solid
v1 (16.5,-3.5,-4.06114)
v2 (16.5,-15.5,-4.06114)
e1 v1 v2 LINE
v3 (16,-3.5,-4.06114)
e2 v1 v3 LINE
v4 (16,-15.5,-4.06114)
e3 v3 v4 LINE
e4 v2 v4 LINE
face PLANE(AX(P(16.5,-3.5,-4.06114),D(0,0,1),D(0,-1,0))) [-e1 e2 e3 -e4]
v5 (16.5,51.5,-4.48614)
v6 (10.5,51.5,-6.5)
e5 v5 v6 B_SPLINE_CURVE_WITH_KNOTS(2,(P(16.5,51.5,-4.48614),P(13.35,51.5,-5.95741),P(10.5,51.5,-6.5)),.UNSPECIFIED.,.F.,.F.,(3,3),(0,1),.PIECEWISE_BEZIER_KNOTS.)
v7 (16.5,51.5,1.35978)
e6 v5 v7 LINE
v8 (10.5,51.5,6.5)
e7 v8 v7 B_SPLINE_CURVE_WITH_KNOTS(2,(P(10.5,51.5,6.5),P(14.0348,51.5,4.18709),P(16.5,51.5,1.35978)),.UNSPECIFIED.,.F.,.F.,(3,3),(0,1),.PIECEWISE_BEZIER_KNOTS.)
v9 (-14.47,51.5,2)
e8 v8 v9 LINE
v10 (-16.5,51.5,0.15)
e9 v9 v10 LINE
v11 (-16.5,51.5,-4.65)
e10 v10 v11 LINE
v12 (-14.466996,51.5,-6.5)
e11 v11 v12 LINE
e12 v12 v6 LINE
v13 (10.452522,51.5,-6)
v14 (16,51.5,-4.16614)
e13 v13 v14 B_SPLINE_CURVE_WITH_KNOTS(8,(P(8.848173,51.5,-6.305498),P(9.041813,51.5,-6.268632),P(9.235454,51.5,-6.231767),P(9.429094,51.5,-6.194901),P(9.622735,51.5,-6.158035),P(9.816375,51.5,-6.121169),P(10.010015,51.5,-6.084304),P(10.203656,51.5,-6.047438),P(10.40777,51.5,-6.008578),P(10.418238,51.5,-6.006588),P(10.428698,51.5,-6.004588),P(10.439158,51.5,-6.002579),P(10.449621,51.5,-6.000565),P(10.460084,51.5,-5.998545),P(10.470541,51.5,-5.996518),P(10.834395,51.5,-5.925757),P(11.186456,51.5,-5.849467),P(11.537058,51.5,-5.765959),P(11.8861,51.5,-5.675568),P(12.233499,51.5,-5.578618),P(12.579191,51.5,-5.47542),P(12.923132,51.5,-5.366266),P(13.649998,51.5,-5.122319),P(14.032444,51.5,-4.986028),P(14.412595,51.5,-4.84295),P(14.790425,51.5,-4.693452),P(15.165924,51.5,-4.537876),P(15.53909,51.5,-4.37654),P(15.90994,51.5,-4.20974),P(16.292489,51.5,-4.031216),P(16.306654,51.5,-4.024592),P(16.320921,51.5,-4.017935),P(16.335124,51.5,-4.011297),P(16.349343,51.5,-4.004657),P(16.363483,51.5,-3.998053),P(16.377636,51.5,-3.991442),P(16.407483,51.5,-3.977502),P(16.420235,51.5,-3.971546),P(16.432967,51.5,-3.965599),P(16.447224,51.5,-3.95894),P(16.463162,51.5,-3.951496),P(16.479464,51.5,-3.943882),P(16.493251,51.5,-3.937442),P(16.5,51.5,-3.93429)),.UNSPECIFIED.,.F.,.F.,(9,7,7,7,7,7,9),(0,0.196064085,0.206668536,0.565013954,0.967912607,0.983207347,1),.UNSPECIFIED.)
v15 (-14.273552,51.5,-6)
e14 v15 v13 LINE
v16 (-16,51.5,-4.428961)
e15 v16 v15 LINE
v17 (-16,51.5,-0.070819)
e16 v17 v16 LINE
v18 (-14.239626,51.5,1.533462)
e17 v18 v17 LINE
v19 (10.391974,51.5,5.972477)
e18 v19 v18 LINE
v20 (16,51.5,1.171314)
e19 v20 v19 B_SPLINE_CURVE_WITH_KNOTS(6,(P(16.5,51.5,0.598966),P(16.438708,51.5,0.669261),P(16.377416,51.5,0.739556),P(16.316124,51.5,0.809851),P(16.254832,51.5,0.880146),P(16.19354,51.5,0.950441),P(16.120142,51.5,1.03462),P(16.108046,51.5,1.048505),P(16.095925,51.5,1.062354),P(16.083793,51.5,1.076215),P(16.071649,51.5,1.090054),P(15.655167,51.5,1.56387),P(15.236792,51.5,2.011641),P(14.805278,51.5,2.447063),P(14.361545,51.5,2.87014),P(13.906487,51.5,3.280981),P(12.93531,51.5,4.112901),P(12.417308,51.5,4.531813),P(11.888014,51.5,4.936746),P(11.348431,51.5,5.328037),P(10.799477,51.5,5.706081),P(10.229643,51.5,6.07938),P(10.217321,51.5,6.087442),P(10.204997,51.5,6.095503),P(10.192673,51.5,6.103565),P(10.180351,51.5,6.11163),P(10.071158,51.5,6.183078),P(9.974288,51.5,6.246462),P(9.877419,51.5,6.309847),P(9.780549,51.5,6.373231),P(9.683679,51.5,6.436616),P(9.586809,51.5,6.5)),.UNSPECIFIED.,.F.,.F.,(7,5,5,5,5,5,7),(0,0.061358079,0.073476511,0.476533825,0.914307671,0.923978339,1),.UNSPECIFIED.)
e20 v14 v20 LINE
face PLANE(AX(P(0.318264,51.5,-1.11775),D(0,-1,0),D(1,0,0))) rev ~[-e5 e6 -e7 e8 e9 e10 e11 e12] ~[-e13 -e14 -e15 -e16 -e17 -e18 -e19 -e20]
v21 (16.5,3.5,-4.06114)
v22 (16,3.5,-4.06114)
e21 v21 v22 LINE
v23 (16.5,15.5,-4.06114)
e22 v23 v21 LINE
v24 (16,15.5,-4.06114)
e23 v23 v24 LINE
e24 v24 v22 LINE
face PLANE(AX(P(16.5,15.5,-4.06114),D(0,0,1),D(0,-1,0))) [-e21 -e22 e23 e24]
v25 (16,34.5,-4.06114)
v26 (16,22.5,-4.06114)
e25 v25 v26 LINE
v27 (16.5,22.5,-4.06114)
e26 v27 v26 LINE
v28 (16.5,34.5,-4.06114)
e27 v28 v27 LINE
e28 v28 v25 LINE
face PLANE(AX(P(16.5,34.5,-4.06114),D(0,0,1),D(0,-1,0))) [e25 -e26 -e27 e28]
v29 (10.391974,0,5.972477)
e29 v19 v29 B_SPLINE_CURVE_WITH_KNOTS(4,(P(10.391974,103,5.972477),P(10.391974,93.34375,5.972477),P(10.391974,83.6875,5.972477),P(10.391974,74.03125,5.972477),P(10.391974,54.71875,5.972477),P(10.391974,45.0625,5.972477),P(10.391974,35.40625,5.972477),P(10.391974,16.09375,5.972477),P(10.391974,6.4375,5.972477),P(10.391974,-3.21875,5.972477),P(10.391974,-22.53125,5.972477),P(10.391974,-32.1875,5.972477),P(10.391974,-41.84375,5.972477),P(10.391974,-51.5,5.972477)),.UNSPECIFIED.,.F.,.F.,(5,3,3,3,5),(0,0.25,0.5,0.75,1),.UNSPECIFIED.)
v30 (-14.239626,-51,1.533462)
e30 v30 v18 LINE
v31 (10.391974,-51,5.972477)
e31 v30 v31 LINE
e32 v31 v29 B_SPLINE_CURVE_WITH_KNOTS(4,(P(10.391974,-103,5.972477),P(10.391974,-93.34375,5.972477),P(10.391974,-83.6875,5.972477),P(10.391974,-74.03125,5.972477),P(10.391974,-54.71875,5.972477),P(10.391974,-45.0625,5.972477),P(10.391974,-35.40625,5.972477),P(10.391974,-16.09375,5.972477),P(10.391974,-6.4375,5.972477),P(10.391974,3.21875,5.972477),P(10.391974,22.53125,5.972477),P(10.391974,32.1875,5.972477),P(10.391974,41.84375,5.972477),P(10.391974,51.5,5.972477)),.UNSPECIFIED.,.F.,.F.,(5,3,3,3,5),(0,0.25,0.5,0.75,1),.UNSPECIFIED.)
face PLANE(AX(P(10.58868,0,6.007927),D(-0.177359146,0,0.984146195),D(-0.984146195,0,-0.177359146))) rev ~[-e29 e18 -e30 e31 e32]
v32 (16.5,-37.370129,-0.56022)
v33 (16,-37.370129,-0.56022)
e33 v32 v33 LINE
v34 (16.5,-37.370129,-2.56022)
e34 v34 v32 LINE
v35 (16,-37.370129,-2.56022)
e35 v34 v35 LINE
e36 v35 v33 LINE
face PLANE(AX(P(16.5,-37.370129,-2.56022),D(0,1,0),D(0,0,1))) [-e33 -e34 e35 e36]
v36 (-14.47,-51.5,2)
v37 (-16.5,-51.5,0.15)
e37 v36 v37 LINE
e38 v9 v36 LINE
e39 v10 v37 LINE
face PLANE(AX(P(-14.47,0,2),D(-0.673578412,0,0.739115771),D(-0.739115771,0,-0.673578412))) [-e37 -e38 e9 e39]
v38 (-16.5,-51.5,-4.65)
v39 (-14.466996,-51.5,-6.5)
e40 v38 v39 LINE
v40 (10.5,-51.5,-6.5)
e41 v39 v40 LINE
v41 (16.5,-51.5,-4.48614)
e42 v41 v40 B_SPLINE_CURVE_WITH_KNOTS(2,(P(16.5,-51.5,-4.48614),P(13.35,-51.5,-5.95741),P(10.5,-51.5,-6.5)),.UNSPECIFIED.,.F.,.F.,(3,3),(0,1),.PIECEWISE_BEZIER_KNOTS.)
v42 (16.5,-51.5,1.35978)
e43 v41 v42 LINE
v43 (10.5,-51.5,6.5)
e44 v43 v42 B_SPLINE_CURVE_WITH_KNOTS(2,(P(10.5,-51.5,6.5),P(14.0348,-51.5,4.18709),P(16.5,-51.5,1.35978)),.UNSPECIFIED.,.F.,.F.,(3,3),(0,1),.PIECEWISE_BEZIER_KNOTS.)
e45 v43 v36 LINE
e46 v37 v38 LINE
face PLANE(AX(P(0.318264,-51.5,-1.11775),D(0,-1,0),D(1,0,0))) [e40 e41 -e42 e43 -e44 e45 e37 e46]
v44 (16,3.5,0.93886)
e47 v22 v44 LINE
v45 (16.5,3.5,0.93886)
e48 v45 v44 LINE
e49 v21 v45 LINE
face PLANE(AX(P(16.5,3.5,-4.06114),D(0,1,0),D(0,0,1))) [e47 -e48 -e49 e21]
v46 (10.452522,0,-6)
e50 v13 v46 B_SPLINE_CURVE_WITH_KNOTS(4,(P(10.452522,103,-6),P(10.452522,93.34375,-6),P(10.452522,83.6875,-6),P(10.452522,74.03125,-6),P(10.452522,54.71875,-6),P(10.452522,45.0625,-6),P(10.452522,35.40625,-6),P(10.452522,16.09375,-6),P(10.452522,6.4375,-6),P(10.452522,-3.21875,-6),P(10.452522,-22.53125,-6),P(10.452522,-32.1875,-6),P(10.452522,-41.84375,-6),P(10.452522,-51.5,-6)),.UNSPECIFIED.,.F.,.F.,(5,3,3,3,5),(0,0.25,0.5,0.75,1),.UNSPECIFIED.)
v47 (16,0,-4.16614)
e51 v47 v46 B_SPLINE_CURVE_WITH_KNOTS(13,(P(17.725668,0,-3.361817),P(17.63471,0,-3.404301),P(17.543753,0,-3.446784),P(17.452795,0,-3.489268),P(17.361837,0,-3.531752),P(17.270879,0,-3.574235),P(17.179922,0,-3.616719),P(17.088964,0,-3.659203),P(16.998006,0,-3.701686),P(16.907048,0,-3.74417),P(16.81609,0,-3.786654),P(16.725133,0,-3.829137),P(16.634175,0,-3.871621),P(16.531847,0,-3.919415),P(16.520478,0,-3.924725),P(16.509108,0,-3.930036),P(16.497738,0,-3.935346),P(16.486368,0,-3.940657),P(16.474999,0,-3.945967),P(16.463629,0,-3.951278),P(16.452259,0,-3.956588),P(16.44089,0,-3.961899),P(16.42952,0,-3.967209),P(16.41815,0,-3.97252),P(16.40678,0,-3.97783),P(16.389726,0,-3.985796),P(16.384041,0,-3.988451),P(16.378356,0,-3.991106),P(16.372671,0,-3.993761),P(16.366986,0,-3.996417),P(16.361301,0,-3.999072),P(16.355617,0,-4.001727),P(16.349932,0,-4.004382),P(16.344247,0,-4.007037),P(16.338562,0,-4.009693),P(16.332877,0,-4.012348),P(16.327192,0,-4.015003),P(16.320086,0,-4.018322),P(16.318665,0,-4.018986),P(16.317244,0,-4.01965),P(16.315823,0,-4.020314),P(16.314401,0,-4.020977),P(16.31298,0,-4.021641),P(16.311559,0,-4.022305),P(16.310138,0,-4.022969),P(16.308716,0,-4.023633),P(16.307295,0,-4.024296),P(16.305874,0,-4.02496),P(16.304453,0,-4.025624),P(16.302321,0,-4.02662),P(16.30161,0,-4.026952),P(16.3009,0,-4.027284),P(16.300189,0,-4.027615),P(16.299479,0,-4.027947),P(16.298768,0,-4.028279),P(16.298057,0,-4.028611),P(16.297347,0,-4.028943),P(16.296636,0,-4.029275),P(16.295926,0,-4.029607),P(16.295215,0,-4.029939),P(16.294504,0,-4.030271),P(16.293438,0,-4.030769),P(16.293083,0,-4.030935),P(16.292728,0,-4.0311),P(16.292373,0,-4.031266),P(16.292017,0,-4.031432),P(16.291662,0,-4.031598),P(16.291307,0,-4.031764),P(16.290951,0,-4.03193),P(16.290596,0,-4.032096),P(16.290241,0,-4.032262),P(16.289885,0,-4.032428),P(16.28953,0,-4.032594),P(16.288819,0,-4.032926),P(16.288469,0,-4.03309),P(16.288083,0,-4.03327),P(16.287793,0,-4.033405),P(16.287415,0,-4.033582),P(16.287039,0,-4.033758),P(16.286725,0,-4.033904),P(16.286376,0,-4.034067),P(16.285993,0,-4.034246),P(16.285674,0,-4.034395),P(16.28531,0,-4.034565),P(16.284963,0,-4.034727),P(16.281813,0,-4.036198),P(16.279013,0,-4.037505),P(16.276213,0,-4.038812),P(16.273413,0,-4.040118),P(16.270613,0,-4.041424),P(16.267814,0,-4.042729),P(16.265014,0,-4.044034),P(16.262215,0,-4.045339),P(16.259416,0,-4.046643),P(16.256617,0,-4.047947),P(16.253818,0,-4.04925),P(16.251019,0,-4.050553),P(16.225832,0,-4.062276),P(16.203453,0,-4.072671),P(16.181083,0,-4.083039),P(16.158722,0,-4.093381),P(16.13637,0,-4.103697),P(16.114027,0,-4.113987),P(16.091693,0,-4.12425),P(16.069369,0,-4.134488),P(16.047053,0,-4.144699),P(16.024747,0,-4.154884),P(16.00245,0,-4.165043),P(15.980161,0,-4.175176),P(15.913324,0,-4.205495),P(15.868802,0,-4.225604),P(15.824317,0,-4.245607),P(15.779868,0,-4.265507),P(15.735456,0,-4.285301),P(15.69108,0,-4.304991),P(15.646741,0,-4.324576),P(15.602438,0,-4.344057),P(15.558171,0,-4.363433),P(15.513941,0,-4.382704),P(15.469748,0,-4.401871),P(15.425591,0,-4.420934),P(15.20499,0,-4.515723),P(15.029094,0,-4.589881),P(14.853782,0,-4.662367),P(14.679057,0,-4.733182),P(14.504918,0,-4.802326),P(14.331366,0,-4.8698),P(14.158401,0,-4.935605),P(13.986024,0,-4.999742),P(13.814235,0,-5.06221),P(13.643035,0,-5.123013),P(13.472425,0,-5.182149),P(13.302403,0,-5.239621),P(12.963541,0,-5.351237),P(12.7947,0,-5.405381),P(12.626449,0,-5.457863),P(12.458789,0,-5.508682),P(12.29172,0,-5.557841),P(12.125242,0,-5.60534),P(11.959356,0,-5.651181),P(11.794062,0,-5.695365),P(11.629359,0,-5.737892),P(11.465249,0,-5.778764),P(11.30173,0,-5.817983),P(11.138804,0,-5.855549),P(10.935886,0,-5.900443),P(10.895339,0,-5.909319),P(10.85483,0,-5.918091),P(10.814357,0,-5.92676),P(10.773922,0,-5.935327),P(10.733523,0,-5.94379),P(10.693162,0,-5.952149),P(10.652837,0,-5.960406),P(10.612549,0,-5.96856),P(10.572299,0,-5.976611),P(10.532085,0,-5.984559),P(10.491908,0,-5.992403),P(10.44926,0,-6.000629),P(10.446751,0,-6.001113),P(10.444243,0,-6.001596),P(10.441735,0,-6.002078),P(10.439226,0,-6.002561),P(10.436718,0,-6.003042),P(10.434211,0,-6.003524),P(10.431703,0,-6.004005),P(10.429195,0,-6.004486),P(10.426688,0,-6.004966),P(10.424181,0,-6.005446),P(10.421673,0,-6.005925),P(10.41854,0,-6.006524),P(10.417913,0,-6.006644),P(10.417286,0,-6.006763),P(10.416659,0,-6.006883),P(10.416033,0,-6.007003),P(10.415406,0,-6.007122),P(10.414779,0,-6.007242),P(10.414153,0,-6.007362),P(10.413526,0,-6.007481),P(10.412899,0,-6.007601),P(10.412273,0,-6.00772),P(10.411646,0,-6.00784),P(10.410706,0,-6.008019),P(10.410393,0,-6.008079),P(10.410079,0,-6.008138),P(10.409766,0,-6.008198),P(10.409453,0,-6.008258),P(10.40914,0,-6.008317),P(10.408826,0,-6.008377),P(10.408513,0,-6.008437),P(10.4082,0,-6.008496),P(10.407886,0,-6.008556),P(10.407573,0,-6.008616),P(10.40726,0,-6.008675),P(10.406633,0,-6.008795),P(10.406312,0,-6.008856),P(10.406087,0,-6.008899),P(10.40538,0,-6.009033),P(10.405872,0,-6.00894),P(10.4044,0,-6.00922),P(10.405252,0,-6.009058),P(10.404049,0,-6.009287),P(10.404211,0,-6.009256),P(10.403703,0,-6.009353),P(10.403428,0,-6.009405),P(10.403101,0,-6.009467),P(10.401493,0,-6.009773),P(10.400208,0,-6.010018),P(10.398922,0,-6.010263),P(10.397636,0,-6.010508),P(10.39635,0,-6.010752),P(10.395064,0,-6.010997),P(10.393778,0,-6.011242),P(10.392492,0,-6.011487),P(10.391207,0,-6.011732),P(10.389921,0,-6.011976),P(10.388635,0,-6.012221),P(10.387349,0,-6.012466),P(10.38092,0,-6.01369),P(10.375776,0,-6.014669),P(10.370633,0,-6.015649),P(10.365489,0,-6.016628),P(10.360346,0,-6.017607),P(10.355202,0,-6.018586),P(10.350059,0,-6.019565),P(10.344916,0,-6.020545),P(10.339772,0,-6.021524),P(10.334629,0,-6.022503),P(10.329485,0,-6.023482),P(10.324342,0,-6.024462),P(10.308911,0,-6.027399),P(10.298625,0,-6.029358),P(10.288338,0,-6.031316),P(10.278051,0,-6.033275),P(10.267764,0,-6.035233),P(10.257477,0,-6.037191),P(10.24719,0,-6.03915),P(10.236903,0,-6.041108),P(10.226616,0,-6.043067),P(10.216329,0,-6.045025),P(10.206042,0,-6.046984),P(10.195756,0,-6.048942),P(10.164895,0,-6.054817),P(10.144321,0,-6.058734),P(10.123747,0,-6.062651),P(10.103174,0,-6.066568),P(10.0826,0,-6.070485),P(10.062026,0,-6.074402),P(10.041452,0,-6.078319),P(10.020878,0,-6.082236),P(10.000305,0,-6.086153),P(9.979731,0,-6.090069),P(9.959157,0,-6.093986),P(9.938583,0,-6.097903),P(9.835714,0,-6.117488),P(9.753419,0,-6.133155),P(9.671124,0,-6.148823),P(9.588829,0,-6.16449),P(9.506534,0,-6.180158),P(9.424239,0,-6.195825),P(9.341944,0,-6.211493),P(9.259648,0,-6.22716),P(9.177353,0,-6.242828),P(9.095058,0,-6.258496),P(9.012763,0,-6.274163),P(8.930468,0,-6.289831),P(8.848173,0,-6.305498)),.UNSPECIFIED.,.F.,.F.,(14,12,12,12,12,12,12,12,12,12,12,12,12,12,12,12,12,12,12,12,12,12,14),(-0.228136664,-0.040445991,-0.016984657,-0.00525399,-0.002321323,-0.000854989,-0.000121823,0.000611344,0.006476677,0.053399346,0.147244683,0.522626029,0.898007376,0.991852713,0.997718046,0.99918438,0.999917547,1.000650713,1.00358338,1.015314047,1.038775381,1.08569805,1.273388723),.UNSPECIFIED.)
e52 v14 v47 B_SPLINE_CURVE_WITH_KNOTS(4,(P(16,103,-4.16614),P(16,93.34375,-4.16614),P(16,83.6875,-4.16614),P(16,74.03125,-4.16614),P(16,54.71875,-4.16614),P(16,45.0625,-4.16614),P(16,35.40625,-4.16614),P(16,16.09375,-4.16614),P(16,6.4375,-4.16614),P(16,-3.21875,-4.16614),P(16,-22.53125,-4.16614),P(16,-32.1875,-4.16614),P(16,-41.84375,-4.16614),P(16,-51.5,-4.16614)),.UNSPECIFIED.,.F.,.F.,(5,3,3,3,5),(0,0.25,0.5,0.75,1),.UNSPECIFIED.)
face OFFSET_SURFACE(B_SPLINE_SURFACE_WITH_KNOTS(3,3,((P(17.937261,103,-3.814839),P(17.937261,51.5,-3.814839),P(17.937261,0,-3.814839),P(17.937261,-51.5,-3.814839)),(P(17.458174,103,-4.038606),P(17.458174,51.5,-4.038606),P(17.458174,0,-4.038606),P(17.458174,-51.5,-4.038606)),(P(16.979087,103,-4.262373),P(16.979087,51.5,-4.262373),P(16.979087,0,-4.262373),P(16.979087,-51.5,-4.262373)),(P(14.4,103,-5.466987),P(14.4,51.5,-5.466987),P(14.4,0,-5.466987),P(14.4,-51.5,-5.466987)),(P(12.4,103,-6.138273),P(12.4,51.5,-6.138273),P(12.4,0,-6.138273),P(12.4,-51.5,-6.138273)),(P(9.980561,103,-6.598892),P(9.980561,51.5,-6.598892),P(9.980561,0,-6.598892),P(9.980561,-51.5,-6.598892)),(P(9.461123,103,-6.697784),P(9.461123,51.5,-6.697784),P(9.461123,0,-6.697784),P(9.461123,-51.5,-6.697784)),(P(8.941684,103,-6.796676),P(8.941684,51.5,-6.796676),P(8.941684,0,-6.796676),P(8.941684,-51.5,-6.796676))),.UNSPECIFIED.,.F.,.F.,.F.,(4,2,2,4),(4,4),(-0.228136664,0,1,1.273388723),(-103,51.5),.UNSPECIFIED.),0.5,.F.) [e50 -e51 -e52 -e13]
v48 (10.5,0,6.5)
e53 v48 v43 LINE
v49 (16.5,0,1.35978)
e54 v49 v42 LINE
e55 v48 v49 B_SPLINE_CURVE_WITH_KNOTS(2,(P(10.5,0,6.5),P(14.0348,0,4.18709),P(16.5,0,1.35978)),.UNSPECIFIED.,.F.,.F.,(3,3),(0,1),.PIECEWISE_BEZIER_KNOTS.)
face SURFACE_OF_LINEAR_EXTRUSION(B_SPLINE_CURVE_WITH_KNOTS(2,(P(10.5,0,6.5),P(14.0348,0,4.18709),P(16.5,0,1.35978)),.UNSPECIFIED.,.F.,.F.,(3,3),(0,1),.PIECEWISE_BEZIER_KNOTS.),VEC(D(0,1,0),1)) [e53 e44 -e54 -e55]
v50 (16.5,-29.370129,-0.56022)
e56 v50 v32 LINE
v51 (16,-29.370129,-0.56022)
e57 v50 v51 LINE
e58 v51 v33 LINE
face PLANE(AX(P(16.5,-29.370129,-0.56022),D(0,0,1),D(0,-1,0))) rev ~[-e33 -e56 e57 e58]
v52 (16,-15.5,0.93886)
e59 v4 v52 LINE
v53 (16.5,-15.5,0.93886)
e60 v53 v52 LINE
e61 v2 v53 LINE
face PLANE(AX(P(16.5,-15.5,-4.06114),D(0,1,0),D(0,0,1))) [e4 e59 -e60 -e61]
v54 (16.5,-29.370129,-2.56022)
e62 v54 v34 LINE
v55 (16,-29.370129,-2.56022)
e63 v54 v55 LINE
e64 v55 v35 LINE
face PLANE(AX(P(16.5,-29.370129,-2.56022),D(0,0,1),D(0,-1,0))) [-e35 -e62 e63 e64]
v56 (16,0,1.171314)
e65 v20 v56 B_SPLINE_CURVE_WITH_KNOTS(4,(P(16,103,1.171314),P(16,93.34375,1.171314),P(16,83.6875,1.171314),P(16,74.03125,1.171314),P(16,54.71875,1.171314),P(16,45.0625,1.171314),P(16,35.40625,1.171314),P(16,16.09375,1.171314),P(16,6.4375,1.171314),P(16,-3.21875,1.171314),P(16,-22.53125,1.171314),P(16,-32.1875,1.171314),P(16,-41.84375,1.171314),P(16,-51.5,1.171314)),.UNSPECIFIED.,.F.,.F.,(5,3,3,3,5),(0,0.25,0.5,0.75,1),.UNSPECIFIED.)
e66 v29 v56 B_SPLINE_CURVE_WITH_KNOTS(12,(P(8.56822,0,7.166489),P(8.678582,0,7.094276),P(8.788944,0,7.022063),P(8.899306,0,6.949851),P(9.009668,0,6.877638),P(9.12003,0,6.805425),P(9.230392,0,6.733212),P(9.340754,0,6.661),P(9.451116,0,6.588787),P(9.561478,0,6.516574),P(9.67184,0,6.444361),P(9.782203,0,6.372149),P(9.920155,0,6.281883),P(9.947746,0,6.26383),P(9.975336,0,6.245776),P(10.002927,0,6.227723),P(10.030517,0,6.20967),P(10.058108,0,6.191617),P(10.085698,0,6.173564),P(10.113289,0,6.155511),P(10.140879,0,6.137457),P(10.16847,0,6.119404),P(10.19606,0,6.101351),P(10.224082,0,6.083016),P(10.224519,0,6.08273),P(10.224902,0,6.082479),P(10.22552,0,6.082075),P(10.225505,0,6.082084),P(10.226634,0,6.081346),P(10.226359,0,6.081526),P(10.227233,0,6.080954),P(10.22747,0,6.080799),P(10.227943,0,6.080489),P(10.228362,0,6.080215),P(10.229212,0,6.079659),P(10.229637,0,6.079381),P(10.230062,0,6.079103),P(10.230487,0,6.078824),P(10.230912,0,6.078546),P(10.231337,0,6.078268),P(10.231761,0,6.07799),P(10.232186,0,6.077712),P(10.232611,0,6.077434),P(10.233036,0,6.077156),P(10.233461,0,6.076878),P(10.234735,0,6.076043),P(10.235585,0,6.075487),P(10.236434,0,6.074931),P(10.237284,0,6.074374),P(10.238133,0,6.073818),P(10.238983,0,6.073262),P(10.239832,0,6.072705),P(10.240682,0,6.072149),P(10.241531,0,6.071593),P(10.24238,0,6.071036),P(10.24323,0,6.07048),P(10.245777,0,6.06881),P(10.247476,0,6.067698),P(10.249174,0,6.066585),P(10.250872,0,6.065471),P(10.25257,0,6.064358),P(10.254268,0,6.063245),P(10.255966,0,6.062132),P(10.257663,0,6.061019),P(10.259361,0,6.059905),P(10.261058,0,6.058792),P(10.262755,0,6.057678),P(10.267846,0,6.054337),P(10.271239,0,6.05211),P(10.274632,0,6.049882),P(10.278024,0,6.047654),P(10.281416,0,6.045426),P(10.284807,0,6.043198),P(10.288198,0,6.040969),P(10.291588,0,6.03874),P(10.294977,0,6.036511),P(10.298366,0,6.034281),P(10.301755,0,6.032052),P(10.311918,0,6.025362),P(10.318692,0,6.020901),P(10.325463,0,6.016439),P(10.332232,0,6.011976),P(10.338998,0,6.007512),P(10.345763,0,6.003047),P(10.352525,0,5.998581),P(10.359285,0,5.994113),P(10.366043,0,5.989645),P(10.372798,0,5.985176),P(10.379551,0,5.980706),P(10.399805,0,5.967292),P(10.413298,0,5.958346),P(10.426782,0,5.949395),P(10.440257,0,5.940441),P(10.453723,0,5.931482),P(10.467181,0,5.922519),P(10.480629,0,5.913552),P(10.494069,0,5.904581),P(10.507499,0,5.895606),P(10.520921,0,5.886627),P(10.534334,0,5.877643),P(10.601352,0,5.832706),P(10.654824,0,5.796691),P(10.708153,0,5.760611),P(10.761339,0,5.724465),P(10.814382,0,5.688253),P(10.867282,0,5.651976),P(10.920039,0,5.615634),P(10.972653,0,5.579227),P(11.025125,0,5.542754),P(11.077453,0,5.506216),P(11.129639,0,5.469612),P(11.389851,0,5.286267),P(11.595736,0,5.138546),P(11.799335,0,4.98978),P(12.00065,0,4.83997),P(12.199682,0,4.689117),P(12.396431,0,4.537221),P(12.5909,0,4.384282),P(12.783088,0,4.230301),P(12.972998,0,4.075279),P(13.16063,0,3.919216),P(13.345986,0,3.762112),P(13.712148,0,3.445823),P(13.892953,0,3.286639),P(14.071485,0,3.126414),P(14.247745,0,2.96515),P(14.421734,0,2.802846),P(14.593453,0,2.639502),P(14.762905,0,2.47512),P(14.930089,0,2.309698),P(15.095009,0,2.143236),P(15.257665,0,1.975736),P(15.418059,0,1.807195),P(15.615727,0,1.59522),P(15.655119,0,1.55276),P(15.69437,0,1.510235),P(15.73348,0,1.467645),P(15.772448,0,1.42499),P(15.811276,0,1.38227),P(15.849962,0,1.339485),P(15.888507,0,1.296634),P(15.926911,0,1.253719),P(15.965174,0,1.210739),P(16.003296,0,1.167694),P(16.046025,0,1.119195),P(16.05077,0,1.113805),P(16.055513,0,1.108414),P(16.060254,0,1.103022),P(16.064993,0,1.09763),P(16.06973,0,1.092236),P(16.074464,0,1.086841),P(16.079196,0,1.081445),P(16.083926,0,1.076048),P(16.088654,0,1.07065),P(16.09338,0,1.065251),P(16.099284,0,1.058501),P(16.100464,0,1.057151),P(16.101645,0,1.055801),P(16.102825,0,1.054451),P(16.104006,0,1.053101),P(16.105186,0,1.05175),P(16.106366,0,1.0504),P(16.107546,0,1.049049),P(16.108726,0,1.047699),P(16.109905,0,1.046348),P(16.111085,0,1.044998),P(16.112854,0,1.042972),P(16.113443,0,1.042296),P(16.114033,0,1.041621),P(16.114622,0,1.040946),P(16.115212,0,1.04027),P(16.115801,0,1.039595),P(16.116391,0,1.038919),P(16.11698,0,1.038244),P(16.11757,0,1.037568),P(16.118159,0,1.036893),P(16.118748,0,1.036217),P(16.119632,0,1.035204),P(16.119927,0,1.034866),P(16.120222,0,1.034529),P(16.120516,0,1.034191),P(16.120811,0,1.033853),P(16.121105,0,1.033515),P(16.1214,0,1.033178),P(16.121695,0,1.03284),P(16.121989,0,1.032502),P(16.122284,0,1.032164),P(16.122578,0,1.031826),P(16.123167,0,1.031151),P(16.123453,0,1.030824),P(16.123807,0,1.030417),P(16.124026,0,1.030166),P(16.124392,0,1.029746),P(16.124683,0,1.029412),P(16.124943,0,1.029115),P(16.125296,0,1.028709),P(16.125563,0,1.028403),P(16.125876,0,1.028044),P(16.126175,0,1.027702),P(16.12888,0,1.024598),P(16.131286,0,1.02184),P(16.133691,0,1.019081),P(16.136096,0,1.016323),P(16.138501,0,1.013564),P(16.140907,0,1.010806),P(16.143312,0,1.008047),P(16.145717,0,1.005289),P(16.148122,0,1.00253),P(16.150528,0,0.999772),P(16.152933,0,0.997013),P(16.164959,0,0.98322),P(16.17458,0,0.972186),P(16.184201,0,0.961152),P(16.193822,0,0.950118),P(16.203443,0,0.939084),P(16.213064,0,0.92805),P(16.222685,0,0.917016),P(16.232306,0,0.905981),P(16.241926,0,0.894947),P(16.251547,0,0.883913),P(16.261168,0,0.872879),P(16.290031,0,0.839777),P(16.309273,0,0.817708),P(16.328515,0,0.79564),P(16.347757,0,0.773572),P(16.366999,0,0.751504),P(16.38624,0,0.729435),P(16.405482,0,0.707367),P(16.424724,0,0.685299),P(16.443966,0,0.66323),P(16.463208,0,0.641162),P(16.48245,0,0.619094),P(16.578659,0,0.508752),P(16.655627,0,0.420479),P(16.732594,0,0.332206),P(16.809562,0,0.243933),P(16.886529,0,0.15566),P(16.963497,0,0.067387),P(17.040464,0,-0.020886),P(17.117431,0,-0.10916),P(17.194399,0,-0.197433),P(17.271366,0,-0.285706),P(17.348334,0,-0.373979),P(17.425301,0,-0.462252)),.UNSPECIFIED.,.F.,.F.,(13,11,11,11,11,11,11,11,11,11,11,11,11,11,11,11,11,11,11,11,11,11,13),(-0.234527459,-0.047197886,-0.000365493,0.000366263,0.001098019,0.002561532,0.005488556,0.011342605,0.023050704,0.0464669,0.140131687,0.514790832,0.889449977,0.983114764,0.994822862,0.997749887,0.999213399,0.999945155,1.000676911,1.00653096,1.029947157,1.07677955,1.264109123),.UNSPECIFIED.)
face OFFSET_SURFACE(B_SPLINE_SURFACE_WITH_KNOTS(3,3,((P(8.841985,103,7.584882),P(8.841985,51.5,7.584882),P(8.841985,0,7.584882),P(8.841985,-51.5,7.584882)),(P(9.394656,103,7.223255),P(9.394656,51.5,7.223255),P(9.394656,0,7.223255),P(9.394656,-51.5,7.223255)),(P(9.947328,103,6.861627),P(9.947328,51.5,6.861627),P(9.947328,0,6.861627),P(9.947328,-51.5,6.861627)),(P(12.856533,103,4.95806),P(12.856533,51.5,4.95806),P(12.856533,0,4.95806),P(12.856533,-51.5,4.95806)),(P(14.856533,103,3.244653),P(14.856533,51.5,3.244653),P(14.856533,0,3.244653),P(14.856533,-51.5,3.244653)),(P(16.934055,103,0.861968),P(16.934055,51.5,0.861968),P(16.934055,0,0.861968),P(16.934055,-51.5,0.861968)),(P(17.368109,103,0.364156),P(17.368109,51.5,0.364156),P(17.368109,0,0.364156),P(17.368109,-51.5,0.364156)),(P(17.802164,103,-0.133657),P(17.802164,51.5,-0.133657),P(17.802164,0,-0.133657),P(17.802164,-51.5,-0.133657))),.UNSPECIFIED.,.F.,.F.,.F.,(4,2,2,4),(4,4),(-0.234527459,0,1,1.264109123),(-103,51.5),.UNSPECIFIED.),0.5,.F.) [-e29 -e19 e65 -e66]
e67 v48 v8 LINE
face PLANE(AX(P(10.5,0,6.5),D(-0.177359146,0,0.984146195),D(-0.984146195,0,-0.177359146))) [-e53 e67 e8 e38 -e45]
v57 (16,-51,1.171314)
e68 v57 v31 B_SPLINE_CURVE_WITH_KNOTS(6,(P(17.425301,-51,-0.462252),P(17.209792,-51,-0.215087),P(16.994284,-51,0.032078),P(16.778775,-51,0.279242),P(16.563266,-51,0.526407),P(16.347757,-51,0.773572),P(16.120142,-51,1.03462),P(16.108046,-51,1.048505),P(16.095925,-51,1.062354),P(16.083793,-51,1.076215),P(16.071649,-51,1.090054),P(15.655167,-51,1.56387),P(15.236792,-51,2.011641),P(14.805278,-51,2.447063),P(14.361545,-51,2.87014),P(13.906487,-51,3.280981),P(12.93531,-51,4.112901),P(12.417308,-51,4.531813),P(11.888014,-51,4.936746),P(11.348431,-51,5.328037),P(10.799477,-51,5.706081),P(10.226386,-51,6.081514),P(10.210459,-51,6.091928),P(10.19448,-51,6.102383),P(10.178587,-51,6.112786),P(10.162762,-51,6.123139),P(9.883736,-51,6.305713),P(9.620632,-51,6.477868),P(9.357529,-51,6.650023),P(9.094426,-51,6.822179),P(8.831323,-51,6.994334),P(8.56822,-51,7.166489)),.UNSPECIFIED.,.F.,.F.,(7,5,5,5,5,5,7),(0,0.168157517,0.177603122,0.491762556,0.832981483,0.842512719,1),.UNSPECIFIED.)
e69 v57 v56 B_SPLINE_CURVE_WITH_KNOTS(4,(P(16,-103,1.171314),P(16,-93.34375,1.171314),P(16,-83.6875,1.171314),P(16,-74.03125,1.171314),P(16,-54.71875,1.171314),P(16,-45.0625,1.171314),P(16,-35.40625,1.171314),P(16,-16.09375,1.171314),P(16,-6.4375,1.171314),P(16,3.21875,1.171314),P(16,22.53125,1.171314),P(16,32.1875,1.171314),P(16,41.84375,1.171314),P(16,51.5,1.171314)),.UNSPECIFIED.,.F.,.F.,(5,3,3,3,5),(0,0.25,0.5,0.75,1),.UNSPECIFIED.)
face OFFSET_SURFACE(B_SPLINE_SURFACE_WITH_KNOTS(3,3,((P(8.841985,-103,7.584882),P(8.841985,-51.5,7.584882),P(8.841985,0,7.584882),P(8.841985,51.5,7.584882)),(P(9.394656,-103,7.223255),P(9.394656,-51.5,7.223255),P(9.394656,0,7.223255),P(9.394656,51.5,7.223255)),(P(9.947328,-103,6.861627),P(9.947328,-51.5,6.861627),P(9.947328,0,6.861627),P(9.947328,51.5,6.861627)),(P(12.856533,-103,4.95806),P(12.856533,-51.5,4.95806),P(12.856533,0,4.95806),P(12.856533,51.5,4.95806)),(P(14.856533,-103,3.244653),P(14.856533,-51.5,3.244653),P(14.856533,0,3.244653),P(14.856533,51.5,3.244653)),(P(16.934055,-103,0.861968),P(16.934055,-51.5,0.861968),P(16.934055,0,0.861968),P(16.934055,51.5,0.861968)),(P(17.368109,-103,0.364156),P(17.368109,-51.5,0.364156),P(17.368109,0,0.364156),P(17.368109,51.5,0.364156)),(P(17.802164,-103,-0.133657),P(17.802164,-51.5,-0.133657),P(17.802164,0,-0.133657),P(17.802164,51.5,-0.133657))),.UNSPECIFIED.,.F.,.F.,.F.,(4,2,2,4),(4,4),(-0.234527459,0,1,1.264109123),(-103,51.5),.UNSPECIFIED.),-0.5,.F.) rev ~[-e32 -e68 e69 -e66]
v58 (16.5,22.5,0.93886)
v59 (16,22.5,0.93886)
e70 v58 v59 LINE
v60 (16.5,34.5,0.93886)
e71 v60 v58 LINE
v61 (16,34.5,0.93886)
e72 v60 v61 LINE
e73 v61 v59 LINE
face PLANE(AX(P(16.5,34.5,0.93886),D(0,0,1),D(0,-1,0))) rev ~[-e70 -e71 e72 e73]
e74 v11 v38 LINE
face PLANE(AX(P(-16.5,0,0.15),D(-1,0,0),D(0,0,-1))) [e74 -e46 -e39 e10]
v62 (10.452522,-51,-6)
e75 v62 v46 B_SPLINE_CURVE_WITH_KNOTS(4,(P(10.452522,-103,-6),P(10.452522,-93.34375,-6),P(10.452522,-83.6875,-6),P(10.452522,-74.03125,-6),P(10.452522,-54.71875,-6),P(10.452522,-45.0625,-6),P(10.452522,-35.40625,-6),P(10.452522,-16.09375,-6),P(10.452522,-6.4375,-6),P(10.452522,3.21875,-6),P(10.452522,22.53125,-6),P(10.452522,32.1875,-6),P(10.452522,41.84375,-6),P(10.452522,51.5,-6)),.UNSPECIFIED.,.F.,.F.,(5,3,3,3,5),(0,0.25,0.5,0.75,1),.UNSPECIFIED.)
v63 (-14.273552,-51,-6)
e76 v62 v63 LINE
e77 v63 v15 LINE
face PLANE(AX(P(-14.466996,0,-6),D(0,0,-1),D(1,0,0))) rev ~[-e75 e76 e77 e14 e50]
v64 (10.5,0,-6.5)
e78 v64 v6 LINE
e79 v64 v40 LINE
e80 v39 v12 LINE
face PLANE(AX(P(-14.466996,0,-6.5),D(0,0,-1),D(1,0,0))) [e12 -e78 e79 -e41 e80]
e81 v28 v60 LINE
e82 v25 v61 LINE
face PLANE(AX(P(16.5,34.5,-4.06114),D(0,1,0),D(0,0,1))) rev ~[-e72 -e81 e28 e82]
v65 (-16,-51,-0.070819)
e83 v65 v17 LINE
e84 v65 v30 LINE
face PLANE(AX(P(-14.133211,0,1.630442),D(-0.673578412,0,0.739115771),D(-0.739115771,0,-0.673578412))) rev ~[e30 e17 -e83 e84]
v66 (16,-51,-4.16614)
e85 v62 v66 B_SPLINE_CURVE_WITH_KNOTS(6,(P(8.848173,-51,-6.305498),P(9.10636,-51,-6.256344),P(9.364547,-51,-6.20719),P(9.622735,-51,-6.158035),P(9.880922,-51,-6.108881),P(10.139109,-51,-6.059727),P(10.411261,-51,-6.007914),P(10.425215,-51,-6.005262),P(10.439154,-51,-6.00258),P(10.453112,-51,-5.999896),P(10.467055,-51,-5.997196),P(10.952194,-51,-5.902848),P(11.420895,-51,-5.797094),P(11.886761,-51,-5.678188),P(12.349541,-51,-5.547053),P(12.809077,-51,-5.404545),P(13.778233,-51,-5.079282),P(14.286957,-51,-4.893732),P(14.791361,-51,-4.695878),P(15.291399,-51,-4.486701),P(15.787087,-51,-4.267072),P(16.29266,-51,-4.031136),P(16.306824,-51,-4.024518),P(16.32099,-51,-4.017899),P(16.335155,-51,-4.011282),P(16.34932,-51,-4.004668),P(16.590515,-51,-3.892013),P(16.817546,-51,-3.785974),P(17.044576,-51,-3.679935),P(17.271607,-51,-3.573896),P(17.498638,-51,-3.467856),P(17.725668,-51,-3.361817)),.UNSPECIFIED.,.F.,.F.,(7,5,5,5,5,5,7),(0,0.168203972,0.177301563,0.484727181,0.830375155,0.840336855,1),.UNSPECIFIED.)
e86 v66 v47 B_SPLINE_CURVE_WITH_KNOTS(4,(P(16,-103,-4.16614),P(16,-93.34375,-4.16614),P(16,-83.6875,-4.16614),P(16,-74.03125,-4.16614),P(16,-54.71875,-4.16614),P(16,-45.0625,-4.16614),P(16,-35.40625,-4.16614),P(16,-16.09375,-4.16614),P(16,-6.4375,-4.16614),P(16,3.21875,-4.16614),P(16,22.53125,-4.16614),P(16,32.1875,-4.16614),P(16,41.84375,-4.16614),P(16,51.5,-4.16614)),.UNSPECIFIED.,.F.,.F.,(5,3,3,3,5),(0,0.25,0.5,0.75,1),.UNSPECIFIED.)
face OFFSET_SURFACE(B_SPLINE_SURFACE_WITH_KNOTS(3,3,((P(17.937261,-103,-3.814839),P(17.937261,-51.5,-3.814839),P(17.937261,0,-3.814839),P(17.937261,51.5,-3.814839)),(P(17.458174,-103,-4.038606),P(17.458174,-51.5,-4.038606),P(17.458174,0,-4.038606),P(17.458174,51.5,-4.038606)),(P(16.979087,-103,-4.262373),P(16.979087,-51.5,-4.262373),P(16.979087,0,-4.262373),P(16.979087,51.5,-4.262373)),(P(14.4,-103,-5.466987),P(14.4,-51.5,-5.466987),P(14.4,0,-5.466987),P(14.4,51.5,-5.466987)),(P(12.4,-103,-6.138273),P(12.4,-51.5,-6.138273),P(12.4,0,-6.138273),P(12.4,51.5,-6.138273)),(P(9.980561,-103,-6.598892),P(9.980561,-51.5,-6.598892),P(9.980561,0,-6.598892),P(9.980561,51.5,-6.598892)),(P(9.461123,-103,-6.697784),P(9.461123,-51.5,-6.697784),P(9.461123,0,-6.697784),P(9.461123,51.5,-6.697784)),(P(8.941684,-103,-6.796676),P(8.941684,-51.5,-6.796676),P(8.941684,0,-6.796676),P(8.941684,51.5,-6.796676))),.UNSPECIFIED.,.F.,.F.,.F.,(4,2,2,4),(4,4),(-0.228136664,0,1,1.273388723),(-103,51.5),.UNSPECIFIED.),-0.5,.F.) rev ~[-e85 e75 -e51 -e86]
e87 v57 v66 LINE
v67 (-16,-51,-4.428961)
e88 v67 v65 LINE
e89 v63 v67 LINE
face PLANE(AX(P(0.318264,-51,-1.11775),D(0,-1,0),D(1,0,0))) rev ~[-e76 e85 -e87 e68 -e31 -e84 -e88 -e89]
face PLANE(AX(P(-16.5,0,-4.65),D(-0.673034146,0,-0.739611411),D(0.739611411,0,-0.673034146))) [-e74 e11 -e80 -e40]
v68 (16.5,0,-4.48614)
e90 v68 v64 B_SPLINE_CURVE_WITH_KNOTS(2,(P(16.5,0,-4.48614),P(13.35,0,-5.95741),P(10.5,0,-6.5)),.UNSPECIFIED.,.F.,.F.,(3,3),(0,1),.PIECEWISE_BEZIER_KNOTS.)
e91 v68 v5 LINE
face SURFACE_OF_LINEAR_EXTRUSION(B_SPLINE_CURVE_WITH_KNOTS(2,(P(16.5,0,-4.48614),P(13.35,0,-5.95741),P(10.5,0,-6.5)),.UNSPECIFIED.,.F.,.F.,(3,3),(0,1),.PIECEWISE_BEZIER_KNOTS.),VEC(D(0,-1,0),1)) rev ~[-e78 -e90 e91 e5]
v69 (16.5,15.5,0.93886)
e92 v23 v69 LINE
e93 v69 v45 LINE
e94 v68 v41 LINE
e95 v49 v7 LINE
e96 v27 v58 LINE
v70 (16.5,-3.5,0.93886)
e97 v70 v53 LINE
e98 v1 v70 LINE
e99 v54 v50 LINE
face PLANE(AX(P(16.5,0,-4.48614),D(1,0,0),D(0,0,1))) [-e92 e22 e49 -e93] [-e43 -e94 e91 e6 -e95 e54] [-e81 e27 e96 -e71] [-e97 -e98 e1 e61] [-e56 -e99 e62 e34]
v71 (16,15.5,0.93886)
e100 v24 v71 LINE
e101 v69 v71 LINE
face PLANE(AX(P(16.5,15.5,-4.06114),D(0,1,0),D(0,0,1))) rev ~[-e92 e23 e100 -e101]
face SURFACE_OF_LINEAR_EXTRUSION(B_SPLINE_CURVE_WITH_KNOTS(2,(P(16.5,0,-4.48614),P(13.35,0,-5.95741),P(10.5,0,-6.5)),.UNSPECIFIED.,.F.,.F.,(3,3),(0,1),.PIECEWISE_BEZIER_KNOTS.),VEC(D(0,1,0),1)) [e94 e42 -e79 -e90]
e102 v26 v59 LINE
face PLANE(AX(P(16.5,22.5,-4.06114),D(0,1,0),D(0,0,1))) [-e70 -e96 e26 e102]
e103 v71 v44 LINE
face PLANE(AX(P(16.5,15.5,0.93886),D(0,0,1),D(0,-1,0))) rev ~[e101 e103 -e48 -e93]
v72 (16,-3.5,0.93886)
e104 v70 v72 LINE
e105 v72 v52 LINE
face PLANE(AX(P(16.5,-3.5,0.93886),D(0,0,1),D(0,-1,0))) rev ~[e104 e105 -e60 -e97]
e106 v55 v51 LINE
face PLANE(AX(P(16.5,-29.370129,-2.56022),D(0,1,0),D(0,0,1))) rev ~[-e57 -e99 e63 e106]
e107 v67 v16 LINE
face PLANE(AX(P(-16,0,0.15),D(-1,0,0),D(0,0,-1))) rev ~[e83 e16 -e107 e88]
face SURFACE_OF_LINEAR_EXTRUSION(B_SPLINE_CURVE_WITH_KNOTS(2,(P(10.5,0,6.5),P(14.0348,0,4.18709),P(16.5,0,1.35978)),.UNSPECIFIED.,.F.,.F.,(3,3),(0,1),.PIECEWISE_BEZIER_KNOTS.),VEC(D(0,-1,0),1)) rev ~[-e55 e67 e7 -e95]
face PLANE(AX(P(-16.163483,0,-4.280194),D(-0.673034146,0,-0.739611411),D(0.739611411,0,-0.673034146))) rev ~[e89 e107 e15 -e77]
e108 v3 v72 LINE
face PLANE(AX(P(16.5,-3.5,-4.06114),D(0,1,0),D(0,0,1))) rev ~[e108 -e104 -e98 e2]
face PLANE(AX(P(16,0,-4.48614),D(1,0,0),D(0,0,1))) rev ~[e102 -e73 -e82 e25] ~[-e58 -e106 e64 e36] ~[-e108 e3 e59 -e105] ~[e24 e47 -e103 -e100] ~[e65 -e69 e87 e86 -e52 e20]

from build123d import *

# Parameters (mm, degrees)
PAD_DEPTH     = 51.5
THICKNESS_T   = -0.5
SKETCH002_W   = 5
SKETCH002_H   = 12
SKETCH002_W_2 = 2
SKETCH002_H_2 = 8
POCKET_DEPTH  = 5


with BuildPart() as part:
    # Sketch → Pad (new body, symmetric)
    with BuildSketch(Plane.XZ):
        with BuildLine():
            Line((16.5, -4.48614), (16.5, 1.35978))
            add(Edge.make_bspline(
                [(10.5, 6.5), (14.0348, 4.18709), (16.5, 1.35978)],
                knots=[0, 0, 0, 1, 1, 1], degree=2))
            Line((10.5, 6.5), (-14.47, 2))
            Line((-14.47, 2), (-16.5, 0.15))
            Line((-16.5, 0.15), (-16.5, -4.65))
            Line((-16.5, -4.65), (-14.466996, -6.5))
            Line((-14.466996, -6.5), (10.5, -6.5))
            add(Edge.make_bspline(
                [(16.5, -4.48614), (13.35, -5.95741), (10.5, -6.5)],
                knots=[0, 0, 0, 1, 1, 1], degree=2))
        make_face()
    extrude(amount=PAD_DEPTH, both=True)

    # Thickness
    thickness_openings = [part.faces().sort_by_distance(p)[0] for p in [
        (0.779746, 51.5, -1.023703),
    ]]
    offset(amount=THICKNESS_T, openings=thickness_openings, kind=Kind.INTERSECTION)

    # Sketch002 (on Face1 of Pad) → Pocket (cut)
    with BuildSketch(Plane(origin=(16.5, 0, 0), x_dir=(0, 0, 1), z_dir=(1, 0, 0))):
        with Locations((-1.56114, 9.5)):
            Rectangle(SKETCH002_W, SKETCH002_H)
        with Locations((-1.56114, -28.5)):
            Rectangle(SKETCH002_W, SKETCH002_H)
        with Locations((-1.56114, -9.5)):
            Rectangle(SKETCH002_W, SKETCH002_H)
        with Locations((-1.56022, 33.370129)):
            Rectangle(SKETCH002_W_2, SKETCH002_H_2)
    extrude(amount=-POCKET_DEPTH, mode=Mode.SUBTRACT)


solid = part.part
